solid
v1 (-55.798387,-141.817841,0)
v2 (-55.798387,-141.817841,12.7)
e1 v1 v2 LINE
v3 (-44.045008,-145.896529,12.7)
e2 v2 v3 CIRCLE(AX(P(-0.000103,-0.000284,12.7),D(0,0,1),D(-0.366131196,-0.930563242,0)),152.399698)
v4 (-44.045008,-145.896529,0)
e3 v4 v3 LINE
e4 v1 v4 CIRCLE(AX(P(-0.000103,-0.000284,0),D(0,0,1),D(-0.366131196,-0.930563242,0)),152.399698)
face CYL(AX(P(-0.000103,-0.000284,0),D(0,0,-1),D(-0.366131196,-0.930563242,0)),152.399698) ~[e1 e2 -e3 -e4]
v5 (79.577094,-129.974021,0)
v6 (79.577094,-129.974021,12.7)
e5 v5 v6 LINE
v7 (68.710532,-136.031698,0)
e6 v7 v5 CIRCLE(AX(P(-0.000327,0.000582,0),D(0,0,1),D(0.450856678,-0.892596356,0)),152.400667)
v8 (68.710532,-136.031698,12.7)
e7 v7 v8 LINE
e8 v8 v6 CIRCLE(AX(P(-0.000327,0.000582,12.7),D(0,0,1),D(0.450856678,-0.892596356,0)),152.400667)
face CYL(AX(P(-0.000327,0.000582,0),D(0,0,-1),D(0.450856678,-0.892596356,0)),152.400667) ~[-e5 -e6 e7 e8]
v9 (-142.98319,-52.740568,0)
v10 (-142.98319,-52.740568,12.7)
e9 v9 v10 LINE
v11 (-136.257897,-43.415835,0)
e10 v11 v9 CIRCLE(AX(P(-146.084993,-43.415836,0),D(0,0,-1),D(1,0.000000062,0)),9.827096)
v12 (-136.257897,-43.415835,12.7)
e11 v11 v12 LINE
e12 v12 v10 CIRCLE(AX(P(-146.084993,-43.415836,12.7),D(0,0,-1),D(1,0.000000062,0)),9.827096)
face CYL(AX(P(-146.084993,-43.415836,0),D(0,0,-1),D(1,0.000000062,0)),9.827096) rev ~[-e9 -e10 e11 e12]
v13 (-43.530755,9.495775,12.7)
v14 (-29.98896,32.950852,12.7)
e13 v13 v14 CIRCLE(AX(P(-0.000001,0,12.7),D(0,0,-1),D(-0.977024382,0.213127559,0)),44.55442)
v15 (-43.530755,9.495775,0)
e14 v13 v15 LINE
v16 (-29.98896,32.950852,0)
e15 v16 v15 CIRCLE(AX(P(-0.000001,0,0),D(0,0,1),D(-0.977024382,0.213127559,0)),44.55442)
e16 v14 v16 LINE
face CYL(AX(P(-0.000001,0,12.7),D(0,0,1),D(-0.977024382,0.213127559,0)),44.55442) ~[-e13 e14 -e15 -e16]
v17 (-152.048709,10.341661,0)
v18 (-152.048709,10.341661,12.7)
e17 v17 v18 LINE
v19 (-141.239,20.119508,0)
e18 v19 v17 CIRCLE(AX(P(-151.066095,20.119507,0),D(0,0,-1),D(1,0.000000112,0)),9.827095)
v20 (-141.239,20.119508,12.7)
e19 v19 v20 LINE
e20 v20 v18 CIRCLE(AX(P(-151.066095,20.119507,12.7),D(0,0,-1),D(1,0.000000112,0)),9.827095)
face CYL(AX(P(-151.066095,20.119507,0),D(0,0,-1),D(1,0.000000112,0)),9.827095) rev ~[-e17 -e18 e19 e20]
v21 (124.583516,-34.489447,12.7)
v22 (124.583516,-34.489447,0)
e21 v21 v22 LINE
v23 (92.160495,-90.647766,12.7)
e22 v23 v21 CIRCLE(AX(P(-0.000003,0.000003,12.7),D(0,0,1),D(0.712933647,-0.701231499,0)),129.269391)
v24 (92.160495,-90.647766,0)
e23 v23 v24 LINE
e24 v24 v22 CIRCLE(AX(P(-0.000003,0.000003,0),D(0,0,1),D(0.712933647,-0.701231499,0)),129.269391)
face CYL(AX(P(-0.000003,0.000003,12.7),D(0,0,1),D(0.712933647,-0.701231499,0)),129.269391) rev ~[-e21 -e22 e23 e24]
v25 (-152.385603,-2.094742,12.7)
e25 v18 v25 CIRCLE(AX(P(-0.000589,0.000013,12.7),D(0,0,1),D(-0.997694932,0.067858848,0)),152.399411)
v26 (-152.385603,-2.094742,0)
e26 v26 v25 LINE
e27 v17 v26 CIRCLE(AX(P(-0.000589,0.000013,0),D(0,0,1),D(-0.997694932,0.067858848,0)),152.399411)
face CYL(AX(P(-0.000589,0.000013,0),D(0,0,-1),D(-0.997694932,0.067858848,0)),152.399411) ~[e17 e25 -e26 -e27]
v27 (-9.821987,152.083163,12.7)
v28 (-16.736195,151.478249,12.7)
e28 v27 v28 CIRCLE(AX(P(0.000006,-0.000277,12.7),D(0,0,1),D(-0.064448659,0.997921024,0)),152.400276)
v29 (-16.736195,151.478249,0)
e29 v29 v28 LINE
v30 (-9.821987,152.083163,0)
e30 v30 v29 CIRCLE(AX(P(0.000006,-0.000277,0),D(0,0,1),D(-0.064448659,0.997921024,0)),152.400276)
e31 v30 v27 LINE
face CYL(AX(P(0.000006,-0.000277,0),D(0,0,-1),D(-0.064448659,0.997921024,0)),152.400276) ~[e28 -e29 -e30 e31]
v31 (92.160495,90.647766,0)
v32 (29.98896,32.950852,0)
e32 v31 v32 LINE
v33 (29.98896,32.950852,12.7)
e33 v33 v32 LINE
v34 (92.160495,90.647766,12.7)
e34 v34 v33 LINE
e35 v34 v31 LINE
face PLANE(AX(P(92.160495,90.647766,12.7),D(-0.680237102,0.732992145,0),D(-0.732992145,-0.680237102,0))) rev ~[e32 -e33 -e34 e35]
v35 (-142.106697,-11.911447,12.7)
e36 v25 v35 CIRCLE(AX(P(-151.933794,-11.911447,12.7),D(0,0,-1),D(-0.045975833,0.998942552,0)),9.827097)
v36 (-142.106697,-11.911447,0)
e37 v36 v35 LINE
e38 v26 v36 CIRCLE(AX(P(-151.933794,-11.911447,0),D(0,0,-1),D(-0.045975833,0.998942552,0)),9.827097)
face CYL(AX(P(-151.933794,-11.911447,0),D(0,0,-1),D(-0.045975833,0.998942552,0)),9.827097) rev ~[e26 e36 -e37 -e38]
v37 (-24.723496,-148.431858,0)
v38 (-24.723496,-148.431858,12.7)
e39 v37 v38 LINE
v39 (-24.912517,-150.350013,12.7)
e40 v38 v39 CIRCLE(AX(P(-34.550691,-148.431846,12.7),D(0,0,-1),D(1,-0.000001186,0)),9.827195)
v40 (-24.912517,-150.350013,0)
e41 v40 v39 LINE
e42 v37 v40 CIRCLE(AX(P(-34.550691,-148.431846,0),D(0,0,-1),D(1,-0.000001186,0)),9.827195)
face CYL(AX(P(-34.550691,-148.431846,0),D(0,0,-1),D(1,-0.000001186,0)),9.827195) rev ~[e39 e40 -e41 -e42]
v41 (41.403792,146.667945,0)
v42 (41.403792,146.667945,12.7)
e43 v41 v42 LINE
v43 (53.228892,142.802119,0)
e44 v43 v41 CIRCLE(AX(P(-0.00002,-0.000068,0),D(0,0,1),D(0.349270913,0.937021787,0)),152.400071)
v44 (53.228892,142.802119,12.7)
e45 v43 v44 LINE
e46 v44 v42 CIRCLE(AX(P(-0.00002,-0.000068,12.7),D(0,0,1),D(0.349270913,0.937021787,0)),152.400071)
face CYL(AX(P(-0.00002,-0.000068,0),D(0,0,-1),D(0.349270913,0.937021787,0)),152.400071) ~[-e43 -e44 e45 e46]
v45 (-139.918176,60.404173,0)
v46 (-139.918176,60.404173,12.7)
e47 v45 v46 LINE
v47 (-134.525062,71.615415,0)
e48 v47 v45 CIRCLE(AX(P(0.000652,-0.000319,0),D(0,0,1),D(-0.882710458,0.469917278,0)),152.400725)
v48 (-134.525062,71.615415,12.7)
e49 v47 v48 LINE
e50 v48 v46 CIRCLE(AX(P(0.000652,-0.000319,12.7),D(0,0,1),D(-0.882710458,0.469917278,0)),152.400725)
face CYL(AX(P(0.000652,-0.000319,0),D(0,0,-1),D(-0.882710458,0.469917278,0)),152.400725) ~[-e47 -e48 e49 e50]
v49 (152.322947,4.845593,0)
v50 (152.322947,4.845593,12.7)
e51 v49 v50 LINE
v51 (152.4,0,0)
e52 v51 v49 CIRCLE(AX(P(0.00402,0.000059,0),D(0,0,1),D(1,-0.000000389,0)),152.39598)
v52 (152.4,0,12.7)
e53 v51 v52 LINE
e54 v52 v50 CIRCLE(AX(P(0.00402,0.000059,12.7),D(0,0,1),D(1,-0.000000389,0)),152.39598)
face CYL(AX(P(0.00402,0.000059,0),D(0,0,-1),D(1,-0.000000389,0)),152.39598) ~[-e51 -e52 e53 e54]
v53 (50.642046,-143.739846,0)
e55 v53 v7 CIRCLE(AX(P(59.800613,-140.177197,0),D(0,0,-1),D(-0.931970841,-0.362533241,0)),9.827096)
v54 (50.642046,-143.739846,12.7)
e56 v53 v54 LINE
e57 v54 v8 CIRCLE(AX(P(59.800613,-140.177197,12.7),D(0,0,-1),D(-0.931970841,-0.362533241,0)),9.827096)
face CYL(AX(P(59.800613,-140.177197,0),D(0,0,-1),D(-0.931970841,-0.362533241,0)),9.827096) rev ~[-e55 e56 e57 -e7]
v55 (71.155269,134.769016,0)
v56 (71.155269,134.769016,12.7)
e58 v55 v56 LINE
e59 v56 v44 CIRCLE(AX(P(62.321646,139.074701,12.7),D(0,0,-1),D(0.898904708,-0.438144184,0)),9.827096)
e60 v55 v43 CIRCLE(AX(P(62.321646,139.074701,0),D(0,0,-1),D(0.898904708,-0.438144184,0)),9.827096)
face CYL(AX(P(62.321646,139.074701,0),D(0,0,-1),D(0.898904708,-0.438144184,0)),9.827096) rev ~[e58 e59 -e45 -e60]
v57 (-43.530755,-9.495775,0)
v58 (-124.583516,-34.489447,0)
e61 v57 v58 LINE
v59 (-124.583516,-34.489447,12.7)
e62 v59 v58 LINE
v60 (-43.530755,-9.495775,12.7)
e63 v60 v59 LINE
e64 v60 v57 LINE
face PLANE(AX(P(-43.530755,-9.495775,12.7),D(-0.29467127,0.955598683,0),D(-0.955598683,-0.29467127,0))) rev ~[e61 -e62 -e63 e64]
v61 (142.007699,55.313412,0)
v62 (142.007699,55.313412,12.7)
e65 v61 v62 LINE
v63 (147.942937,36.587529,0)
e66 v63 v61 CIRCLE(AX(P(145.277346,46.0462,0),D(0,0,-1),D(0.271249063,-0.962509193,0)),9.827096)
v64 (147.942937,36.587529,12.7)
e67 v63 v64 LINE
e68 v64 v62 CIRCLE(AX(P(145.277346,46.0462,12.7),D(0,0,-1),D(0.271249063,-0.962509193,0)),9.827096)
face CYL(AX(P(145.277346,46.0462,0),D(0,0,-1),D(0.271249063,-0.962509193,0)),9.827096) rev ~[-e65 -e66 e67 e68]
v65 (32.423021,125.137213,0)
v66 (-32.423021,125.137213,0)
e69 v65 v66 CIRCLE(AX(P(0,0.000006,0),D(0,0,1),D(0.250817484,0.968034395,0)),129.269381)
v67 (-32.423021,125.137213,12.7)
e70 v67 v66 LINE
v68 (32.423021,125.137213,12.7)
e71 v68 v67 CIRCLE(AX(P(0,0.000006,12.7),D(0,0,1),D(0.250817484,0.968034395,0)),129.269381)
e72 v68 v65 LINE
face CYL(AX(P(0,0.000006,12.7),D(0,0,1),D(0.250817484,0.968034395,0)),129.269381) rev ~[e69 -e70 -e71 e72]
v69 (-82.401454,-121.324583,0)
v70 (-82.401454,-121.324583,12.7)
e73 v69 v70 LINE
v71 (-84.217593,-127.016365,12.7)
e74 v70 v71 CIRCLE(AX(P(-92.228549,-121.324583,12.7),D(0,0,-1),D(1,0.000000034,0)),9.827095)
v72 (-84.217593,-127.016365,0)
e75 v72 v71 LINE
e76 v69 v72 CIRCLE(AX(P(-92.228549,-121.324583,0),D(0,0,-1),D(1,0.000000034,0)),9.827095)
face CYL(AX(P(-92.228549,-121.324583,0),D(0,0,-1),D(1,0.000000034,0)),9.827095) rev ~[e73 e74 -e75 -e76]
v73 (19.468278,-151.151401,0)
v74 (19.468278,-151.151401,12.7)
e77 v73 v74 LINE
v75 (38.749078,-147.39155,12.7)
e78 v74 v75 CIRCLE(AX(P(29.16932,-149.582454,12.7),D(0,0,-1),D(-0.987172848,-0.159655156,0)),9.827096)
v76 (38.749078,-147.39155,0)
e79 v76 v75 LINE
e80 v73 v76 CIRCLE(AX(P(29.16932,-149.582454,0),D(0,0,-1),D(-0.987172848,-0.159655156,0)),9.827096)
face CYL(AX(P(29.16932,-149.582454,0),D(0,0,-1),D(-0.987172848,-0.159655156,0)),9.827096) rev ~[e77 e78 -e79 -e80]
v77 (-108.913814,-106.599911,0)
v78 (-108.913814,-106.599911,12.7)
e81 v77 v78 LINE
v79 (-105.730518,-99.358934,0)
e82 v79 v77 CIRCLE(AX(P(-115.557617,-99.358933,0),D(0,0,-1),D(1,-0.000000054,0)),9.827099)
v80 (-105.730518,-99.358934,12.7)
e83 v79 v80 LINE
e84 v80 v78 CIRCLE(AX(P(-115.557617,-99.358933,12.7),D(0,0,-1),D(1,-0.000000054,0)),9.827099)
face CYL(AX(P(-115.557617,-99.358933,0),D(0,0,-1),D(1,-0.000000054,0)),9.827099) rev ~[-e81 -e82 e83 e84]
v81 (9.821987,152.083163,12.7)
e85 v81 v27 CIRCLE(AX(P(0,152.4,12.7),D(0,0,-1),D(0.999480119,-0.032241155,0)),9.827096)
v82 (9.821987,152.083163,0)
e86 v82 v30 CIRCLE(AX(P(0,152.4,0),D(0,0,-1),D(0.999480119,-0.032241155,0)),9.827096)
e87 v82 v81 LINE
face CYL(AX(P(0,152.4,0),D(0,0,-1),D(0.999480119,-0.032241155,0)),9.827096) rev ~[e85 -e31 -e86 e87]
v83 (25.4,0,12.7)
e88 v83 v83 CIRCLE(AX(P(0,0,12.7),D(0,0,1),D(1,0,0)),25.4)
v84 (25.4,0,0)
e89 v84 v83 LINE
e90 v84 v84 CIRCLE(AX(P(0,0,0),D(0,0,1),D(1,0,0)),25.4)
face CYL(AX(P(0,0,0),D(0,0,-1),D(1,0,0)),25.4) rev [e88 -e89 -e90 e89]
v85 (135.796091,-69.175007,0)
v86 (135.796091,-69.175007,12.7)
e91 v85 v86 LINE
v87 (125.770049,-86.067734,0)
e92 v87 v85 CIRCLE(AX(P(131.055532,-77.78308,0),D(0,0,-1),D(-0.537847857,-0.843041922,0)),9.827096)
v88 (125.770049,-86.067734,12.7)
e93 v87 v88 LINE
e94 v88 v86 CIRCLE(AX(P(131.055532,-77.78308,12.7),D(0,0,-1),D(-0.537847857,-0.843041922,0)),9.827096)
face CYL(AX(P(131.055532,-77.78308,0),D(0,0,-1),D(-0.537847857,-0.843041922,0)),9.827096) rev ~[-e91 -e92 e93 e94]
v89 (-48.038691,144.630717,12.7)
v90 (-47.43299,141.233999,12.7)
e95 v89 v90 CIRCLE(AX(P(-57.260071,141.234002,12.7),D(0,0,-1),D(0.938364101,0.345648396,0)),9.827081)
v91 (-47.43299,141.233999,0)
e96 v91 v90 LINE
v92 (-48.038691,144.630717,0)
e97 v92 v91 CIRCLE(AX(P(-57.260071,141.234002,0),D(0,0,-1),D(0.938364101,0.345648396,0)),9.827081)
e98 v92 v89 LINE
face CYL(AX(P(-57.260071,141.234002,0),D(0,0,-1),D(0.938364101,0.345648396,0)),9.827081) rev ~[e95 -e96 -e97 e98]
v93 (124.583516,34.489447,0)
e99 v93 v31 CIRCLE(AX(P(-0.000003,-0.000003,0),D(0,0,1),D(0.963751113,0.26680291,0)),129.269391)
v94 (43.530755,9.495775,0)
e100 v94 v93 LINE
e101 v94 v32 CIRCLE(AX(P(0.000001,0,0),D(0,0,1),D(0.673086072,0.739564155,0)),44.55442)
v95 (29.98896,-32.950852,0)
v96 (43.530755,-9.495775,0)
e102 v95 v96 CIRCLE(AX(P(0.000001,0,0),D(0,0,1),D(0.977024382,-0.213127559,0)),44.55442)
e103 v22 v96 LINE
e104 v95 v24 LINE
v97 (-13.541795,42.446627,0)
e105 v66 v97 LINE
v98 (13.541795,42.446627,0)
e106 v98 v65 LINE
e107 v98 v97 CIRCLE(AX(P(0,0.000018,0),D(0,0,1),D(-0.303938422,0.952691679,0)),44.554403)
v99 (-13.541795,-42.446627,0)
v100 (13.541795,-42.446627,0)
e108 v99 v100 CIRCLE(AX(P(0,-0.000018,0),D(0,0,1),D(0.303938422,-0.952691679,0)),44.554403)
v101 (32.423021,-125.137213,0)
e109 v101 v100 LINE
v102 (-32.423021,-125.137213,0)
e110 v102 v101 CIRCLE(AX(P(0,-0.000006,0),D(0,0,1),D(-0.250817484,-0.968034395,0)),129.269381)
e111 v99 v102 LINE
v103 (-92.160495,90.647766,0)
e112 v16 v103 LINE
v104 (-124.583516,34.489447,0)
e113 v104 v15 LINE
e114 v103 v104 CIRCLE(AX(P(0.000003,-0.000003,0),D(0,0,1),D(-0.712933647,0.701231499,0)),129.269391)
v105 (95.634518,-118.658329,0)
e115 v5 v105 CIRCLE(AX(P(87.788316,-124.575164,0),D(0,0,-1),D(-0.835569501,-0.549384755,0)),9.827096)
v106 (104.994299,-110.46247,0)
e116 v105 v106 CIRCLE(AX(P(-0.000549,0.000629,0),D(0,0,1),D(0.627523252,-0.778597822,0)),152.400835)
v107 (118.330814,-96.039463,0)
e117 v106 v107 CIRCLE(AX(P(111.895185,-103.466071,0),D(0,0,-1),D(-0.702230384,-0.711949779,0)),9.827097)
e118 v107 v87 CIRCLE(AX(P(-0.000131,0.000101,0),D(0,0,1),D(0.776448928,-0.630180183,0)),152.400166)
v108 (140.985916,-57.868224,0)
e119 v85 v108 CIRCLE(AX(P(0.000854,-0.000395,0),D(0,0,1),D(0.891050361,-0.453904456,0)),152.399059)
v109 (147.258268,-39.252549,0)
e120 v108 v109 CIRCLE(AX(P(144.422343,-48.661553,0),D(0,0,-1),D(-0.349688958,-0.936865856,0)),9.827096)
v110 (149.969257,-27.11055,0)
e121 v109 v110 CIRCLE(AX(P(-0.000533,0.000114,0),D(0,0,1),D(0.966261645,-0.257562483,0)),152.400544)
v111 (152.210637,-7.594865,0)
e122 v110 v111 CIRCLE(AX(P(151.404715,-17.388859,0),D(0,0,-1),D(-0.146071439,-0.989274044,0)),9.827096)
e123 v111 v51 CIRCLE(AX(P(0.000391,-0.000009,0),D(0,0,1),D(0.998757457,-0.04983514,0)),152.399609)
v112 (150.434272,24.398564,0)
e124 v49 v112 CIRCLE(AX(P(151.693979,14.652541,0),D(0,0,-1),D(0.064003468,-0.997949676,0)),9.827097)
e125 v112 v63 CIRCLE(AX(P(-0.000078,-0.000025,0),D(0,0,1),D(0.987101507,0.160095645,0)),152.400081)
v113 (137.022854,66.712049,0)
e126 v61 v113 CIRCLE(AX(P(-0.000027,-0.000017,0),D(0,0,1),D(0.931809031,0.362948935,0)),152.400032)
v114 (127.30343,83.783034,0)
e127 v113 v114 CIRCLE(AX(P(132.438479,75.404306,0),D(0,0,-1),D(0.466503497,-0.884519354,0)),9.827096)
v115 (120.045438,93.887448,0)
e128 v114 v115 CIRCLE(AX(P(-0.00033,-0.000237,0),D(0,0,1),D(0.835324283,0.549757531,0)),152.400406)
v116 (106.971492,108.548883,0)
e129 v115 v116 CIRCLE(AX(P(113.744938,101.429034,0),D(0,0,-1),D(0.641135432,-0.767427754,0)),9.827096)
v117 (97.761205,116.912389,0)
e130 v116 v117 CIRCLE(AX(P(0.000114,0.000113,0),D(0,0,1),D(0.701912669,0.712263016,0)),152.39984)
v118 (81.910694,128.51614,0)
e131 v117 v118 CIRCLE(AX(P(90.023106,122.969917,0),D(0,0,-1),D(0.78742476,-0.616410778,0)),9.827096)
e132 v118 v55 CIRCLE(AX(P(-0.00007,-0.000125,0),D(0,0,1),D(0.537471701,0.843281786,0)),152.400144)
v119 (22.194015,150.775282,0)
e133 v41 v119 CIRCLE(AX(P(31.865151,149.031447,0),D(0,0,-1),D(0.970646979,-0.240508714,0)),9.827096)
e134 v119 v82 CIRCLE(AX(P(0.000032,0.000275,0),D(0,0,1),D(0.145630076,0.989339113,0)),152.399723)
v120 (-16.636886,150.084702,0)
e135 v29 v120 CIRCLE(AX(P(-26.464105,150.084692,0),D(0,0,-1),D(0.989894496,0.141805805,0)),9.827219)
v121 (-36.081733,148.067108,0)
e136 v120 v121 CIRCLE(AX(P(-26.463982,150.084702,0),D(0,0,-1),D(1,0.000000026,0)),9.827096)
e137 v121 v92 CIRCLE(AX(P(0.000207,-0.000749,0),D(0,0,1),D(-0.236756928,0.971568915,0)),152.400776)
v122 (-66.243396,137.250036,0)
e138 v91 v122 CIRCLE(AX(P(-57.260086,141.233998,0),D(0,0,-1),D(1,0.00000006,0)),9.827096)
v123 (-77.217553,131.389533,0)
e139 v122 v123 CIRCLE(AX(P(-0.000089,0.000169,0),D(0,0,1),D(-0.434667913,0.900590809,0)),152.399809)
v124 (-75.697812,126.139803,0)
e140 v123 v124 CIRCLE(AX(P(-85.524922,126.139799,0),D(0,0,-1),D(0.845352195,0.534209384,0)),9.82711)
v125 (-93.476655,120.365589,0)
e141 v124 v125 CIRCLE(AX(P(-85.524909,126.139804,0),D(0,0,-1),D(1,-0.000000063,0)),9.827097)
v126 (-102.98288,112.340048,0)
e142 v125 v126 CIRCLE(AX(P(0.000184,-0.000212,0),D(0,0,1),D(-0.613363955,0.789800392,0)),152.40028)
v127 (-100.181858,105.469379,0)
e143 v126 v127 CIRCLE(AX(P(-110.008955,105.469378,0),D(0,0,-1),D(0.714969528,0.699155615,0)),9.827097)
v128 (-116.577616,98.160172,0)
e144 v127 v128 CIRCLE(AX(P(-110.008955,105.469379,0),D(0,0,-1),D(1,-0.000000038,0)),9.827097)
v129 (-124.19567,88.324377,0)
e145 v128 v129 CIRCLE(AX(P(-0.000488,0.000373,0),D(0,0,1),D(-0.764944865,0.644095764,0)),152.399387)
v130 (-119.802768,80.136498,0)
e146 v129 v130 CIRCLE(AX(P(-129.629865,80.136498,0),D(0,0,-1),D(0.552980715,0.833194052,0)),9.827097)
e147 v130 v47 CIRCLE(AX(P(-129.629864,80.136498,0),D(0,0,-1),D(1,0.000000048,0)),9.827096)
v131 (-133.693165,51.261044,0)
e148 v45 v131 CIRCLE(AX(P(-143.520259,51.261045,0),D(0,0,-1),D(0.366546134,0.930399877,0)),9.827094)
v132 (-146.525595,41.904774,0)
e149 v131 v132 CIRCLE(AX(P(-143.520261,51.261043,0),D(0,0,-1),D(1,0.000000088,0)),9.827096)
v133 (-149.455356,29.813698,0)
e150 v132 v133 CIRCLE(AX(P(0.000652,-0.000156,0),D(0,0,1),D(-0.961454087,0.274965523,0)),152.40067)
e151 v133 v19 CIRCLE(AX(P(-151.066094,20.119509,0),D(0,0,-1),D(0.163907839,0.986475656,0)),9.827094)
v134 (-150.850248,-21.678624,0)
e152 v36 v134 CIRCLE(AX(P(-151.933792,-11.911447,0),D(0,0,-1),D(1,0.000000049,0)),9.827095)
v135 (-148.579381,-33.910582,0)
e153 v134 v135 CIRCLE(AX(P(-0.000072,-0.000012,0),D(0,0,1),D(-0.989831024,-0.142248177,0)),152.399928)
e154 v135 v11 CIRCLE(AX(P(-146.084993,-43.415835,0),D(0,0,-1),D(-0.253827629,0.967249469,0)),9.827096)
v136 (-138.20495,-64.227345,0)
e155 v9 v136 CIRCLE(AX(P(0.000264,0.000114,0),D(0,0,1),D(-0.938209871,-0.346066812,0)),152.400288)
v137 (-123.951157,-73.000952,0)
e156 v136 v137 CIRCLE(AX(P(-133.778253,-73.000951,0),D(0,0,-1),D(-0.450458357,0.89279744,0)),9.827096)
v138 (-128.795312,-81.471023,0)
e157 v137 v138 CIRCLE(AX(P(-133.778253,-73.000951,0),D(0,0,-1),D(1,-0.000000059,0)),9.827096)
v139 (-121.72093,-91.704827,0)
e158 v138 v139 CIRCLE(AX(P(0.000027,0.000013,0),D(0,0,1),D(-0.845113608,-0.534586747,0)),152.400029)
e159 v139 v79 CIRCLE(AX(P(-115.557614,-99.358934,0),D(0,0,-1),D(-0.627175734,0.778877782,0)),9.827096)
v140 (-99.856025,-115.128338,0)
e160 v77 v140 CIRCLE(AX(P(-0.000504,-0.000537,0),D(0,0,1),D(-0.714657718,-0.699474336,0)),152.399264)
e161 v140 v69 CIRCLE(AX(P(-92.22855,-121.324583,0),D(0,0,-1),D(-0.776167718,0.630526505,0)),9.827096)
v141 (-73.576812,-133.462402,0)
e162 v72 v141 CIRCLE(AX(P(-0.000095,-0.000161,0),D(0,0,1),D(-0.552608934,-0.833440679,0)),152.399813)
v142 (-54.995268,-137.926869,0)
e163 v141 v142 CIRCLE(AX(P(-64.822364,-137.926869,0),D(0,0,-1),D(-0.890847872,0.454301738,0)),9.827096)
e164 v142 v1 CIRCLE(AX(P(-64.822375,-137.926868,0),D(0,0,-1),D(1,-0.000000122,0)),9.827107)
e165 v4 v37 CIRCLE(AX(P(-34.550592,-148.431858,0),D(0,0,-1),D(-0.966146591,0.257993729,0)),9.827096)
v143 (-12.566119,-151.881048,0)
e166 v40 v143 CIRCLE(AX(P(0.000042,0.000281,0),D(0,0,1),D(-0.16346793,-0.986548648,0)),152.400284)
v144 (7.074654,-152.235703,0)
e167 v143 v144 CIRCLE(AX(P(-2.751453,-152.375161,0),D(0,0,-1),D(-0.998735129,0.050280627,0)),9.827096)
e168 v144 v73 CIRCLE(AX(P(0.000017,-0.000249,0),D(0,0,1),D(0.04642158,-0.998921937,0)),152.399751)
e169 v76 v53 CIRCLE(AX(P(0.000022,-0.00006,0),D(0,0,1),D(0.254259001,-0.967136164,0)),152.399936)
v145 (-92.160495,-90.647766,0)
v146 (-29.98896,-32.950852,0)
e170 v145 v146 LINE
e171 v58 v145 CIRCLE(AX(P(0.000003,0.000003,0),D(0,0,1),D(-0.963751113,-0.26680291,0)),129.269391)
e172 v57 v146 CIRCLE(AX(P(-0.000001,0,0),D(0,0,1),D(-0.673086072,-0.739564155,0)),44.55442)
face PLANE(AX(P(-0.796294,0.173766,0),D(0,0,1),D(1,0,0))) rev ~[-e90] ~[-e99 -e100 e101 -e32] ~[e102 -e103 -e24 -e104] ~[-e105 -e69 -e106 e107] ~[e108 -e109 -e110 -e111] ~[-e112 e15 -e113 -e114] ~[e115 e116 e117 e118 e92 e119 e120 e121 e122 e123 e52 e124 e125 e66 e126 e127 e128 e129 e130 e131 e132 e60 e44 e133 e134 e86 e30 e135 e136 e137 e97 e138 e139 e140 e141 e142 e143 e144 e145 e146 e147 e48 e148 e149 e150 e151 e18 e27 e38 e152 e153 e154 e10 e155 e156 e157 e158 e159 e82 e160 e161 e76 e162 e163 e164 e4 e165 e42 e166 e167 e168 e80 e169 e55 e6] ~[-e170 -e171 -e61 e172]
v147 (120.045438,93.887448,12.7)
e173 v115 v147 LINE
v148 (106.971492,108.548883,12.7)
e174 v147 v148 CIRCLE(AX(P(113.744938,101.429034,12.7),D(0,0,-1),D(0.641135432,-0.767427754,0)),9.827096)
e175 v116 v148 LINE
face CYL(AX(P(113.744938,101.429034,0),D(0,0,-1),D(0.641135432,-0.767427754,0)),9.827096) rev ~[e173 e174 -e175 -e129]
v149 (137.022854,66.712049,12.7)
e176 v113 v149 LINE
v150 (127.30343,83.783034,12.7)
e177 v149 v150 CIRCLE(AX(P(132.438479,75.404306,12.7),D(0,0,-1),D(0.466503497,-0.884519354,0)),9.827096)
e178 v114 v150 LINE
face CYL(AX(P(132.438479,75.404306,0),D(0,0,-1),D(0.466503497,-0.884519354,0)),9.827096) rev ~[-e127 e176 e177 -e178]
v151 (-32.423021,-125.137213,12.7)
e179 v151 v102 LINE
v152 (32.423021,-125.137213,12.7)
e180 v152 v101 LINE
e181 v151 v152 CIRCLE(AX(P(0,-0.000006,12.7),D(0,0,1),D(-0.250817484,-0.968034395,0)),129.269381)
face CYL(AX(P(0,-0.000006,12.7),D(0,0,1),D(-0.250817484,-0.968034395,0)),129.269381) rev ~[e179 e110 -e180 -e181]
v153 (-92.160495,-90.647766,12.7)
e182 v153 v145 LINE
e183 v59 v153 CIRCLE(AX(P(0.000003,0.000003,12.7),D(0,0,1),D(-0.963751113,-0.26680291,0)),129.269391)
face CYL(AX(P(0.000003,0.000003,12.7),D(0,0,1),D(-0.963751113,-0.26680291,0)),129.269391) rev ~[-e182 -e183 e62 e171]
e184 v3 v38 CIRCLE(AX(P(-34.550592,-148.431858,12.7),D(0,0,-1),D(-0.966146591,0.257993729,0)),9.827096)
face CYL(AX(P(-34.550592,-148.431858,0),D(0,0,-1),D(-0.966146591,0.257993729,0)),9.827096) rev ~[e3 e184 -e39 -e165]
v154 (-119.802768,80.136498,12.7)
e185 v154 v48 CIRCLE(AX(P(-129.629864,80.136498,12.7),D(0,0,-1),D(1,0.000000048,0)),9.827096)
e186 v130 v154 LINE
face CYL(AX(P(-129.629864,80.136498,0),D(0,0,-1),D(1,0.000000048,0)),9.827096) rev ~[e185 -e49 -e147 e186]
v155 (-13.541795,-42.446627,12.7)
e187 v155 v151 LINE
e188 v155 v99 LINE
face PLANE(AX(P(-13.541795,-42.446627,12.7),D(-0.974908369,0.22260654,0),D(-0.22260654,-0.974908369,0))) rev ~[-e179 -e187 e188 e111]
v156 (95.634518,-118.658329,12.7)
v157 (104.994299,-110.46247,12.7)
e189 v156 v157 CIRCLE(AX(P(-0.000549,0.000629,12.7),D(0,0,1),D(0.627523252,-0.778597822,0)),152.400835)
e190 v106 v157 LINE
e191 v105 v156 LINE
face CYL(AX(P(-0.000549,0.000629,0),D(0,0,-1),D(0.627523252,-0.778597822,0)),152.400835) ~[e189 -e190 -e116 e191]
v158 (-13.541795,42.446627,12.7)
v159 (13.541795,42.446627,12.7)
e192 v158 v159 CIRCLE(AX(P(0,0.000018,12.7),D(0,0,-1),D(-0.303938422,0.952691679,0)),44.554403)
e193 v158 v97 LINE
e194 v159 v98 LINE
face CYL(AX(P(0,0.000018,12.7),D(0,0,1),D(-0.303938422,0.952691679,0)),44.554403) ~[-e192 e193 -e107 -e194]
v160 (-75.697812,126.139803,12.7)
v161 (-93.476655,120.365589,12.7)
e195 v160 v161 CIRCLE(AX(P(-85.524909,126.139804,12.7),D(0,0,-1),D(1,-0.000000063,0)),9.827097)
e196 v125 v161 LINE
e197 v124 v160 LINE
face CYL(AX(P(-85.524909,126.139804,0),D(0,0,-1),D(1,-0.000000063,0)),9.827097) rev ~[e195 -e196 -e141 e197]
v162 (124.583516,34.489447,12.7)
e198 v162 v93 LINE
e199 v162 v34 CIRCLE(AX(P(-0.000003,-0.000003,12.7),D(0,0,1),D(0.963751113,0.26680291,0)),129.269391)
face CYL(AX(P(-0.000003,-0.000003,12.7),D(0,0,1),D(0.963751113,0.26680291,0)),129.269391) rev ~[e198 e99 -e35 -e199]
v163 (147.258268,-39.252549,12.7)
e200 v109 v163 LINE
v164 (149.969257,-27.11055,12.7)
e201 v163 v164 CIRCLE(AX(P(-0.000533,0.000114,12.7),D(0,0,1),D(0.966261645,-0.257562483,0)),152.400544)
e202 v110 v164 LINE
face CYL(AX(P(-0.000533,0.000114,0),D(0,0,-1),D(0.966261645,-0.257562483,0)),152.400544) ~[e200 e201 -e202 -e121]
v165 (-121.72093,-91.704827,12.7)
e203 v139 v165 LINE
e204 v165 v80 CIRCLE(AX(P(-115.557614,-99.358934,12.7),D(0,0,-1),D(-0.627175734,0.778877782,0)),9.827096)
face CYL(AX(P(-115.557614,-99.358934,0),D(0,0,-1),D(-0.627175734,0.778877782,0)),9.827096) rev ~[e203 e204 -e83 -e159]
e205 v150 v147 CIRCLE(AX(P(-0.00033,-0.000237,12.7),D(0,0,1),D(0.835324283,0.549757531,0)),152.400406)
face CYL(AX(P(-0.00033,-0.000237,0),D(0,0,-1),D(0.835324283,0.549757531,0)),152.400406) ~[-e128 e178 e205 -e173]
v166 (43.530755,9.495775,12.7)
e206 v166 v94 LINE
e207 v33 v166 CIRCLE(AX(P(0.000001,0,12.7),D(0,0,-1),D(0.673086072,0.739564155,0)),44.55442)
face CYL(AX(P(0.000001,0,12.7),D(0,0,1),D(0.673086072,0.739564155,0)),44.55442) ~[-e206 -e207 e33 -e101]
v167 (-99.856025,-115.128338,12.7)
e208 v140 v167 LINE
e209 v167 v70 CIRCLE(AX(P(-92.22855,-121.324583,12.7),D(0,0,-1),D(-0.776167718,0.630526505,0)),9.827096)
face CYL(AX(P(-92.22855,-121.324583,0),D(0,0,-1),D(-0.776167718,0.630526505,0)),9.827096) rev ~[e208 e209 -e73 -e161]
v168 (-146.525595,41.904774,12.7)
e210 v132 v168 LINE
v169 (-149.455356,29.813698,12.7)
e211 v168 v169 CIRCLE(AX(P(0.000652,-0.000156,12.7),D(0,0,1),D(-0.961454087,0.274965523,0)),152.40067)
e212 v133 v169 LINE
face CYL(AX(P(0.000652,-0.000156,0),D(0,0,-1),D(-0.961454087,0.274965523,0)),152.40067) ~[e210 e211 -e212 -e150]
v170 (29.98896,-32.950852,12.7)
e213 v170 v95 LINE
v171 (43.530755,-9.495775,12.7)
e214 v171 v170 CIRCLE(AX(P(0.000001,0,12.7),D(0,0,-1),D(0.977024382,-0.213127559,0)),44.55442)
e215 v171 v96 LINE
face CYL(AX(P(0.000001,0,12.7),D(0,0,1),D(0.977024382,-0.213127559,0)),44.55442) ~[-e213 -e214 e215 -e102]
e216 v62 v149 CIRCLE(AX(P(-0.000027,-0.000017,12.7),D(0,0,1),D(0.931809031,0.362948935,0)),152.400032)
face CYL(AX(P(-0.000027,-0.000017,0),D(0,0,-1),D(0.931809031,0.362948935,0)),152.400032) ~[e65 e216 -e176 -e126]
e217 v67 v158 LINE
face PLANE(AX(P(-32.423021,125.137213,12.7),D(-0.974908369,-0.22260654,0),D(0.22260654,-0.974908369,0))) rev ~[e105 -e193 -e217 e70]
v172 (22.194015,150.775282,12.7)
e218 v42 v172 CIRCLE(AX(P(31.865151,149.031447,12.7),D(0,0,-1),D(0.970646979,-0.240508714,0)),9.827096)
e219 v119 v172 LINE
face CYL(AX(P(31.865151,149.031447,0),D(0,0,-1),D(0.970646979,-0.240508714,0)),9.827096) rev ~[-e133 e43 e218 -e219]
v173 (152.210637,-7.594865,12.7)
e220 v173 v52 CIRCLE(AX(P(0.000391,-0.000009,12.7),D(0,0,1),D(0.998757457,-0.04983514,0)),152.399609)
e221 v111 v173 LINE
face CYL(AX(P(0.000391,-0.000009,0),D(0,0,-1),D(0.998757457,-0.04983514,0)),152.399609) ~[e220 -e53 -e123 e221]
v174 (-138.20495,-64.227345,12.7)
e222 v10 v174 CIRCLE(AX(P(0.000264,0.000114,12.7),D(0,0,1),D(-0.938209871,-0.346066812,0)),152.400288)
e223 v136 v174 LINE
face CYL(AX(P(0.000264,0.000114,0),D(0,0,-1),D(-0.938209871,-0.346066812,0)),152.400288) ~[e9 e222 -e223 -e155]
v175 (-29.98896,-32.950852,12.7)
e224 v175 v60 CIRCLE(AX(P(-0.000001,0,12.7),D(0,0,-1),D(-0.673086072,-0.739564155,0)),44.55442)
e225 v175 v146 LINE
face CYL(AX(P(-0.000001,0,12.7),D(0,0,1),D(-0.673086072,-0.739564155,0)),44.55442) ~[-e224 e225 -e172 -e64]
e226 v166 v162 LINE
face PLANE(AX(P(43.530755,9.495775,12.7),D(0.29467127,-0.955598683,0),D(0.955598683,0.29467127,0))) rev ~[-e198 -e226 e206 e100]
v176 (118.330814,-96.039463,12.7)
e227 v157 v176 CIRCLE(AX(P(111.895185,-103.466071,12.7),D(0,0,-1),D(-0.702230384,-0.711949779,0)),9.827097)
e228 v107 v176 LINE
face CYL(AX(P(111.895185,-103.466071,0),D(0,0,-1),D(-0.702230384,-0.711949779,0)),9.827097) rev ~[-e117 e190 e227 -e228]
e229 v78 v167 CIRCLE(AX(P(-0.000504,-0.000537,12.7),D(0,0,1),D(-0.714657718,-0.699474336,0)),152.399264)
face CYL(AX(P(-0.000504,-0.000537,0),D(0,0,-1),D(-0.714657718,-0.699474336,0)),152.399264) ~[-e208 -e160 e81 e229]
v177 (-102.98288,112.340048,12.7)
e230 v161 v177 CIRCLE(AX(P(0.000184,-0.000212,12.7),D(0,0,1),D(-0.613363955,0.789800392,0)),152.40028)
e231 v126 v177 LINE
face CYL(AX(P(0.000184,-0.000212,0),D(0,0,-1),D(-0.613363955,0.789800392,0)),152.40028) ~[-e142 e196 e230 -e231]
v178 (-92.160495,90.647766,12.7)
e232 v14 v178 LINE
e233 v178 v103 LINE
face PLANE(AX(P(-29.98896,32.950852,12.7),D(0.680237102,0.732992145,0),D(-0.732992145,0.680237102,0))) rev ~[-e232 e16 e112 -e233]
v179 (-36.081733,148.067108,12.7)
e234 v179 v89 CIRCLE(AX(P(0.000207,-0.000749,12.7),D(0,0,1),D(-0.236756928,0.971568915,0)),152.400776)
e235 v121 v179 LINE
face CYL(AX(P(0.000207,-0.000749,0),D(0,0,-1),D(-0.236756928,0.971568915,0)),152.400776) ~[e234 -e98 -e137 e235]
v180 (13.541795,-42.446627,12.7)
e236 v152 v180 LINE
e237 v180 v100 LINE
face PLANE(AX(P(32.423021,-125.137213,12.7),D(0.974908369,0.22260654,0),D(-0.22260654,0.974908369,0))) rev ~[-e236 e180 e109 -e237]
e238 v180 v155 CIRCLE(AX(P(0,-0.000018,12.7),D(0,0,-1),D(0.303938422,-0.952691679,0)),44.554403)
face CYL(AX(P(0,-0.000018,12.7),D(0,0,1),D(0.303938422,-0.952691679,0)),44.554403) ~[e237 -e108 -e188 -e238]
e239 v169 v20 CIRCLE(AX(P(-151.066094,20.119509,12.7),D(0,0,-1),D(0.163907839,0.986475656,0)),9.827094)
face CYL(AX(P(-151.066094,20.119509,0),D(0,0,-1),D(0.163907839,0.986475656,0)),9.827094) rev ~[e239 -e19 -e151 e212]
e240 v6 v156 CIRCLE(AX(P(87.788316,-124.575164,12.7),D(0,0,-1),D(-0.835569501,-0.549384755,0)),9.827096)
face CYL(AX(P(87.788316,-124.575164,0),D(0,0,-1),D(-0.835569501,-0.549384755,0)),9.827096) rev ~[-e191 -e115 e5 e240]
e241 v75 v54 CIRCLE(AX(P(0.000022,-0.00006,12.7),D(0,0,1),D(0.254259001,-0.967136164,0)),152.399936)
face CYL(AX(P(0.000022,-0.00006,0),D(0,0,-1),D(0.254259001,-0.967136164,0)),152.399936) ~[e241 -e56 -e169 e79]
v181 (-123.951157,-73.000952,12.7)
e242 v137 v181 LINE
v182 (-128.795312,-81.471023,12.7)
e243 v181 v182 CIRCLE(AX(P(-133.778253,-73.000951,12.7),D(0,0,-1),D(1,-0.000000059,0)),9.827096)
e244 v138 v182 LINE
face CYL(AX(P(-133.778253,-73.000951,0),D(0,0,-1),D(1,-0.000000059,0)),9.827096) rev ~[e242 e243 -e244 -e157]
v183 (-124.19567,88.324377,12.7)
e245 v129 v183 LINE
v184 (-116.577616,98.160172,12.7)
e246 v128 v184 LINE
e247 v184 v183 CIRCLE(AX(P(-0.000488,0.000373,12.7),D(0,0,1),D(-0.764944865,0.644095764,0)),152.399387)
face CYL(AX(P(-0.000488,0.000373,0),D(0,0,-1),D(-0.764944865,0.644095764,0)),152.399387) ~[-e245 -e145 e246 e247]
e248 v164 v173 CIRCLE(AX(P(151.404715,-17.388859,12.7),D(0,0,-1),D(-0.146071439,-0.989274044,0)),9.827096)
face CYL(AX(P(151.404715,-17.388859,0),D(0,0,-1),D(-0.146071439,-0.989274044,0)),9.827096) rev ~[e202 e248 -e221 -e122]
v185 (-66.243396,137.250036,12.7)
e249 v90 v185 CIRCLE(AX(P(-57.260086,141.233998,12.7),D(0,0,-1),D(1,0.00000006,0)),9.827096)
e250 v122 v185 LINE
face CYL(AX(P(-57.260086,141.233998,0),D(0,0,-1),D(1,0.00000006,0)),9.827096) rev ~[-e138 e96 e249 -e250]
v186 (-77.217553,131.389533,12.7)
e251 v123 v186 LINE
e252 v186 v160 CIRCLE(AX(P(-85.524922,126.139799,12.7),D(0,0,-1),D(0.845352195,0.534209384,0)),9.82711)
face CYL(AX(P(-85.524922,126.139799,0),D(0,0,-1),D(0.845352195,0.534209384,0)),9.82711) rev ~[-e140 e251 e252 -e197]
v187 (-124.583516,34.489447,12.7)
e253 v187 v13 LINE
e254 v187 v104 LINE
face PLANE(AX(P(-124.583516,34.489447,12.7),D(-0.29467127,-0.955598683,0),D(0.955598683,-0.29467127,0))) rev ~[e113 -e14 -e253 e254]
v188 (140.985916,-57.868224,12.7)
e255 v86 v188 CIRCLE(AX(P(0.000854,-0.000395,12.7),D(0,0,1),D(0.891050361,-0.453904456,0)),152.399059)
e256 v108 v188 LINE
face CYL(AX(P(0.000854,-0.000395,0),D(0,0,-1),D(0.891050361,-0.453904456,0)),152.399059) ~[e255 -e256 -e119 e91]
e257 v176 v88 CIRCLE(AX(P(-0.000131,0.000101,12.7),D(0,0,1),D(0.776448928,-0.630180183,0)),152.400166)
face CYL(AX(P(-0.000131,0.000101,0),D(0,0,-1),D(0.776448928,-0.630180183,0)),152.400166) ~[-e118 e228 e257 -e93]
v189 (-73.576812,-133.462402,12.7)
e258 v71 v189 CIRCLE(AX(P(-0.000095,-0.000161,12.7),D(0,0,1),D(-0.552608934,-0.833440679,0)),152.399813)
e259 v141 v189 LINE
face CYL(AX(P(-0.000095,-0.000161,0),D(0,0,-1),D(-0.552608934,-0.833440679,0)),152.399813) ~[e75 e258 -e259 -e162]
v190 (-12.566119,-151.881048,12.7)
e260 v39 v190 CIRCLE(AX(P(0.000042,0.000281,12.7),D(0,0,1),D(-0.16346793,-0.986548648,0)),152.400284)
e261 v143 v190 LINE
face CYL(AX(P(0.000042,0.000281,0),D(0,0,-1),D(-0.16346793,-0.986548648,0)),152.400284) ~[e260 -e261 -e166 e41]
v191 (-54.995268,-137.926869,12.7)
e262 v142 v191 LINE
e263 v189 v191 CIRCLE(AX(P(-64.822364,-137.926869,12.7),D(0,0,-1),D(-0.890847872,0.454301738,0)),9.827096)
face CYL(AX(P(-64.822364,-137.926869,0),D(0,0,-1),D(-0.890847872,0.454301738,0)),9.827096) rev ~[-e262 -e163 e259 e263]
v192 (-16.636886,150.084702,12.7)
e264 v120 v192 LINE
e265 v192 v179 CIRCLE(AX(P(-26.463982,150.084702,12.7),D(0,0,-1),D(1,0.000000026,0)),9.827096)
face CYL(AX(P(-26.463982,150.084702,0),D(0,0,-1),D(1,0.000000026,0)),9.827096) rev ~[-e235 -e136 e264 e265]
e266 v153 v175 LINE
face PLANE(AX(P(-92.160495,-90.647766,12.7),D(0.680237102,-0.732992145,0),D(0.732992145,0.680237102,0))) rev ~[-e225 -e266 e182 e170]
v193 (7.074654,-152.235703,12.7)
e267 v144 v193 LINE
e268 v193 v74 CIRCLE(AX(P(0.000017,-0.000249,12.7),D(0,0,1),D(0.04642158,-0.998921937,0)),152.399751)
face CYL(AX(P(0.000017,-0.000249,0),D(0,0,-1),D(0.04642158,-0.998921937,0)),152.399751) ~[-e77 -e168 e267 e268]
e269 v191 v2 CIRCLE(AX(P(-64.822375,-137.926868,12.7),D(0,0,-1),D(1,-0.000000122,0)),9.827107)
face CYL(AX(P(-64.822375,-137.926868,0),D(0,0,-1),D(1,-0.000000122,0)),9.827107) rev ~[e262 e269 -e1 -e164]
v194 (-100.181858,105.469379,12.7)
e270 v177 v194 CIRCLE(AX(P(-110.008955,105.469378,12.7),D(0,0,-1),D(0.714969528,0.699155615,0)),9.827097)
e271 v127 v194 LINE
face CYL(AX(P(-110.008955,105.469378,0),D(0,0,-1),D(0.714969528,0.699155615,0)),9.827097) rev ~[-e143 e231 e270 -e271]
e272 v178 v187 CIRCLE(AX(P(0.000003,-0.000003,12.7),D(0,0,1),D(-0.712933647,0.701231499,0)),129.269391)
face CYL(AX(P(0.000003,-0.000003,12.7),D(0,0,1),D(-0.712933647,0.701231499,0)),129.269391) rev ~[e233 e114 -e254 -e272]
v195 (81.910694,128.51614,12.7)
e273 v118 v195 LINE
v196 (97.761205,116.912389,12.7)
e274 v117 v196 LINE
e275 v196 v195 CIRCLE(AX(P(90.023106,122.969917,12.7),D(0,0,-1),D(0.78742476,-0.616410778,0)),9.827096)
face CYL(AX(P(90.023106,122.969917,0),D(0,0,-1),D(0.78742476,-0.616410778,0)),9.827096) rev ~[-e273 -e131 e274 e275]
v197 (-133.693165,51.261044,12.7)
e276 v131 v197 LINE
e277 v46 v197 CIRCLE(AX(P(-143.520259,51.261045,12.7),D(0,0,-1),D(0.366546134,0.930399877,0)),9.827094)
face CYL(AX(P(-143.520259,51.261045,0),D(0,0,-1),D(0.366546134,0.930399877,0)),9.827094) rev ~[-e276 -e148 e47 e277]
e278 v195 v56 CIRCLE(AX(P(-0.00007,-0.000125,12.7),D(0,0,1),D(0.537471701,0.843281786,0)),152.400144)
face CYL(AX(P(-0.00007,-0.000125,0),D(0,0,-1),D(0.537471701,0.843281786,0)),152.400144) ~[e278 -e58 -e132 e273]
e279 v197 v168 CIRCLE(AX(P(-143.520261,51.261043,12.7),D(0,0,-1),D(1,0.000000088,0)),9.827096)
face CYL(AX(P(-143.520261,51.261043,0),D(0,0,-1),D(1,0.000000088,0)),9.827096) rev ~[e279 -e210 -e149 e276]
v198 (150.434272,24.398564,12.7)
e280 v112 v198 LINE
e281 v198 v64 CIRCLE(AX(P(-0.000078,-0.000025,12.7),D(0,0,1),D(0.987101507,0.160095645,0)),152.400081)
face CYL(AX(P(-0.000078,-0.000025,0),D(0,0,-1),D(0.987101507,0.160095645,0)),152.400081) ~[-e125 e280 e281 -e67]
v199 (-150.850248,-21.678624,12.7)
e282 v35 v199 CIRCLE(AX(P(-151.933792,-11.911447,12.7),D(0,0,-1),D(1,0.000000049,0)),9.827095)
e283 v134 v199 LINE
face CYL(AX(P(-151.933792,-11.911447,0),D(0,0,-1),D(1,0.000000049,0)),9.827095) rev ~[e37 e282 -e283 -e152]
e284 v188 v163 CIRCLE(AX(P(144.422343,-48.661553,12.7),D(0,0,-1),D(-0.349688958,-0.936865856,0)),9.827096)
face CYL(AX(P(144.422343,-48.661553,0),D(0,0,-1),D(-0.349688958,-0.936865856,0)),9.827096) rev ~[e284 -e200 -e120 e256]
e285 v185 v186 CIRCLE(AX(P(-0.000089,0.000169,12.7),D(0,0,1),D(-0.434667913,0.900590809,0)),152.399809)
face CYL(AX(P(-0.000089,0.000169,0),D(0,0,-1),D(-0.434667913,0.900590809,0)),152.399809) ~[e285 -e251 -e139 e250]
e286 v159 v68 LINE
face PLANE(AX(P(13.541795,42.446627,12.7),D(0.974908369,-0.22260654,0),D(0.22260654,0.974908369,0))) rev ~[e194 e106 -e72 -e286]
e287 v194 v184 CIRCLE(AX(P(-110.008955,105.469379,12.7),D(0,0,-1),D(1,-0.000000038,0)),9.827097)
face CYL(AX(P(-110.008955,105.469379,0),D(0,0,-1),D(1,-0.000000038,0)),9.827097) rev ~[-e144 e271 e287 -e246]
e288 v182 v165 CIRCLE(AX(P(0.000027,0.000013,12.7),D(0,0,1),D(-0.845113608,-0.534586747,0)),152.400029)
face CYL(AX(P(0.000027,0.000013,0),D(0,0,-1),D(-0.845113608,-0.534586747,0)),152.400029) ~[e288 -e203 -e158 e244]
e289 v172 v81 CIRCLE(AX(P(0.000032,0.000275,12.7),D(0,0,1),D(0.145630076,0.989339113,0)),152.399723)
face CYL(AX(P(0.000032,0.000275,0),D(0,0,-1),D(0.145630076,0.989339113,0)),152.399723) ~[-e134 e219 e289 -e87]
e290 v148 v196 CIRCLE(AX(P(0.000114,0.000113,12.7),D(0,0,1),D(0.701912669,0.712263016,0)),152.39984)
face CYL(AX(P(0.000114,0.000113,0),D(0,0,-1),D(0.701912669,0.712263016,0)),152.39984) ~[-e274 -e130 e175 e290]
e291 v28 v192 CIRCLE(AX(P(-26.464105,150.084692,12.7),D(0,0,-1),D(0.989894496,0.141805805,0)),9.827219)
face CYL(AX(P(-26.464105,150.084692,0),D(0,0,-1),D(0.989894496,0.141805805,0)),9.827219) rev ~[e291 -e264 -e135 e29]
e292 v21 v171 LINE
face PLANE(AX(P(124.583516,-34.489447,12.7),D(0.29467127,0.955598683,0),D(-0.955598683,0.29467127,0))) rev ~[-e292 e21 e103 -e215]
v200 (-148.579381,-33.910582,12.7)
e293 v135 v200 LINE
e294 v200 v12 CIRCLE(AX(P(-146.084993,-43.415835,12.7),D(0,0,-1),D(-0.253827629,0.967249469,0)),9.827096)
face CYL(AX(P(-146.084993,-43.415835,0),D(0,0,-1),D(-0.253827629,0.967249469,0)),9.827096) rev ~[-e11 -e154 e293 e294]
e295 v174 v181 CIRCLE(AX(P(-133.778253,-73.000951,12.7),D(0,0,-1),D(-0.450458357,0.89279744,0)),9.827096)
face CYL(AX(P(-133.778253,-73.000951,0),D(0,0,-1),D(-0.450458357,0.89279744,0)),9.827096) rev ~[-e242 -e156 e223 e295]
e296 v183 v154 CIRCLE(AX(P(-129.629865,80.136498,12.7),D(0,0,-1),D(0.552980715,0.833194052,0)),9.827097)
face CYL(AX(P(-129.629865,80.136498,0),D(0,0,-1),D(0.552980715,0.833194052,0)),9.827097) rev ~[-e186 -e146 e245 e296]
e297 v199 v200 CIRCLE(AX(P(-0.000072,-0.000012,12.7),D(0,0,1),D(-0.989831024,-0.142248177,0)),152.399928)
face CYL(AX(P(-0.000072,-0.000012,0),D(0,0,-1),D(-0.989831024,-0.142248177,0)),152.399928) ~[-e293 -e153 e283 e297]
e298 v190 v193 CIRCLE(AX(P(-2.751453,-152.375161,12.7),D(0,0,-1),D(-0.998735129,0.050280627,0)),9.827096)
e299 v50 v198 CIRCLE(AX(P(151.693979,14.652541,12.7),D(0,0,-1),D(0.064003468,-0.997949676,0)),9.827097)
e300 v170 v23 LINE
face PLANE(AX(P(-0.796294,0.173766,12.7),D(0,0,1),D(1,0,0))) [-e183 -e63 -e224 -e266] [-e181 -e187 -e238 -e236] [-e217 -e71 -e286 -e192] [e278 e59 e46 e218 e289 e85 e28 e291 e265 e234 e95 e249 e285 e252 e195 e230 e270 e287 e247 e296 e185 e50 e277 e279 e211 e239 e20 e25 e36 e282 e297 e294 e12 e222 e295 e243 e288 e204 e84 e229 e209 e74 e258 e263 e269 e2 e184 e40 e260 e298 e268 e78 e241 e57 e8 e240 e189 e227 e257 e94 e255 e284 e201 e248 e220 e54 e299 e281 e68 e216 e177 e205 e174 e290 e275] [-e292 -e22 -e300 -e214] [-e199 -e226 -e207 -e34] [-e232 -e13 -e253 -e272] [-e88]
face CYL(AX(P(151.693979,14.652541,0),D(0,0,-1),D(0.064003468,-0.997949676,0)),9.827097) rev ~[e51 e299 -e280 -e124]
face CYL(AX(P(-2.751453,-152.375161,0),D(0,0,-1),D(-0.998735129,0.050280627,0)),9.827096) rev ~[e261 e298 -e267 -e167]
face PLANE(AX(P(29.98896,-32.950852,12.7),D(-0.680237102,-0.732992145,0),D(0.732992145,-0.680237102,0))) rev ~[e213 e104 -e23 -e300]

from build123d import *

# Parameters (mm, degrees)
F0_R     = 25.4
F1_DEPTH = 12.7
F3_DEPTH = 25.4


with BuildPart() as f1:
    # F0 (on Top) → F1 (new body)
    with BuildSketch(Plane.XY):
        with BuildLine():
            ThreePointArc((152.210637, -7.594865), (152.352652, -3.798613), (152.4, 0))
            ThreePointArc((152.4, 0), (152.380736, 2.423103), (152.322947, 4.845593))
            ThreePointArc((152.322947, 4.845593), (141.912408, 13.707712), (150.434272, 24.398564))
            ThreePointArc((150.434272, 24.398564), (149.313035, 30.518479), (147.942937, 36.587529))
            ThreePointArc((147.942937, 36.587529), (135.909535, 43.077036), (142.007699, 55.313412))
            ThreePointArc((142.007699, 55.313412), (139.631639, 61.063618), (137.022854, 66.712049))
            ThreePointArc((137.022854, 66.712049), (123.898547, 70.542066), (127.30343, 83.783034))
            ThreePointArc((127.30343, 83.783034), (123.777584, 88.909334), (120.045438, 93.887448))
            ThreePointArc((120.045438, 93.887448), (106.410408, 94.888661), (106.971492, 108.548883))
            ThreePointArc((106.971492, 108.548883), (102.451727, 112.824659), (97.761205, 116.912389))
            ThreePointArc((97.761205, 116.912389), (84.218213, 115.040539), (81.910694, 128.51614))
            ThreePointArc((81.910694, 128.51614), (76.596814, 131.752374), (71.155269, 134.769016))
            ThreePointArc((71.155269, 134.769016), (58.303006, 130.10685), (53.228892, 142.802119))
            ThreePointArc((53.228892, 142.802119), (47.355806, 144.855748), (41.403792, 146.667945))
            ThreePointArc((41.403792, 146.667945), (29.810413, 139.421563), (22.194015, 150.775282))
            ThreePointArc((22.194015, 150.775282), (16.021353, 151.555522), (9.821987, 152.083163))
            ThreePointArc((9.821987, 152.083163), (0, 142.572904), (-9.821987, 152.083163))
            ThreePointArc((-9.821987, 152.083163), (-13.282535, 151.820072), (-16.736195, 151.478249))
            ThreePointArc((-16.736195, 151.478249), (-16.661745, 150.783242), (-16.636886, 150.084702))
            ThreePointArc((-16.636886, 150.084702), (-25.44977, 140.310082), (-36.081733, 148.067108))
            ThreePointArc((-36.081733, 148.067108), (-42.095292, 146.470974), (-48.038691, 144.630717))
            ThreePointArc((-48.038691, 144.630717), (-47.5856, 142.959149), (-47.43299, 141.233999))
            ThreePointArc((-47.43299, 141.233999), (-55.223917, 131.620163), (-66.243396, 137.250036))
            ThreePointArc((-66.243396, 137.250036), (-71.790301, 134.431814), (-77.217553, 131.389533))
            ThreePointArc((-77.217553, 131.389533), (-76.085391, 128.872443), (-75.697812, 126.139803))
            ThreePointArc((-75.697812, 126.139803), (-82.489349, 116.793296), (-93.476655, 120.365589))
            ThreePointArc((-93.476655, 120.365589), (-98.311696, 116.449862), (-102.98288, 112.340048))
            ThreePointArc((-102.98288, 112.340048), (-100.909017, 109.179225), (-100.181858, 105.469379))
            ThreePointArc((-100.181858, 105.469379), (-106.007645, 96.493782), (-116.577616, 98.160172))
            ThreePointArc((-116.577616, 98.160172), (-120.487052, 93.320043), (-124.19567, 88.324377))
            ThreePointArc((-124.19567, 88.324377), (-120.970356, 84.782436), (-119.802768, 80.136498))
            ThreePointArc((-119.802768, 80.136498), (-124.707149, 71.631282), (-134.525062, 71.615415))
            ThreePointArc((-134.525062, 71.615415), (-137.336068, 66.064849), (-139.918176, 60.404173))
            ThreePointArc((-139.918176, 60.404173), (-135.39715, 56.791586), (-133.693165, 51.261044))
            ThreePointArc((-133.693165, 51.261044), (-137.730696, 43.320467), (-146.525595, 41.904774))
            ThreePointArc((-146.525595, 41.904774), (-148.113906, 35.889145), (-149.455356, 29.813698))
            ThreePointArc((-149.455356, 29.813698), (-143.569406, 26.473362), (-141.239, 20.119508))
            ThreePointArc((-141.239, 20.119508), (-144.473844, 12.83157), (-152.048709, 10.341661))
            ThreePointArc((-152.048709, 10.341661), (-152.344113, 4.126898), (-152.385603, -2.094742))
            ThreePointArc((-152.385603, -2.094742), (-145.146605, -4.804697), (-142.106697, -11.911447))
            ThreePointArc((-142.106697, -11.911447), (-144.611911, -18.465977), (-150.850248, -21.678624))
            ThreePointArc((-150.850248, -21.678624), (-149.839684, -27.817785), (-148.579381, -33.910582))
            ThreePointArc((-148.579381, -33.910582), (-140.082526, -35.634948), (-136.257897, -43.415835))
            ThreePointArc((-136.257897, -43.415835), (-138.114625, -49.164318), (-142.98319, -52.740568))
            ThreePointArc((-142.98319, -52.740568), (-140.711332, -58.532735), (-138.20495, -64.227345))
            ThreePointArc((-138.20495, -64.227345), (-128.627028, -64.632158), (-123.951157, -73.000952))
            ThreePointArc((-123.951157, -73.000952), (-125.24773, -77.87968), (-128.795312, -81.471023))
            ThreePointArc((-128.795312, -81.471023), (-125.362592, -86.660144), (-121.72093, -91.704827))
            ThreePointArc((-121.72093, -91.704827), (-111.314719, -90.494981), (-105.730518, -99.358934))
            ThreePointArc((-105.730518, -99.358934), (-106.561474, -103.31384), (-108.913814, -106.599911))
            ThreePointArc((-108.913814, -106.599911), (-104.471982, -110.956591), (-99.856025, -115.128338))
            ThreePointArc((-99.856025, -115.128338), (-88.941006, -112.063704), (-82.401454, -121.324583))
            ThreePointArc((-82.401454, -121.324583), (-82.866492, -124.311837), (-84.217593, -127.016365))
            ThreePointArc((-84.217593, -127.016365), (-78.963006, -130.34801), (-73.576812, -133.462402))
            ThreePointArc((-73.576812, -133.462402), (-62.526605, -128.371697), (-54.995268, -137.926869))
            ThreePointArc((-54.995268, -137.926869), (-55.198142, -139.913365), (-55.798387, -141.817841))
            ThreePointArc((-55.798387, -141.817841), (-49.963335, -143.977169), (-44.045008, -145.896529))
            ThreePointArc((-44.045008, -145.896529), (-33.272061, -138.688287), (-24.723496, -148.431858))
            ThreePointArc((-24.723496, -148.431858), (-24.770866, -149.395581), (-24.912517, -150.350013))
            ThreePointArc((-24.912517, -150.350013), (-18.754947, -151.241568), (-12.566119, -151.881048))
            ThreePointArc((-12.566119, -151.881048), (-2.574032, -142.549666), (7.074654, -152.235703))
            ThreePointArc((7.074654, -152.235703), (13.282535, -151.820072), (19.468278, -151.151401))
            ThreePointArc((19.468278, -151.151401), (27.288417, -139.93704), (38.749078, -147.39155))
            ThreePointArc((38.749078, -147.39155), (44.73284, -145.687107), (50.642046, -143.739846))
            ThreePointArc((50.642046, -143.739846), (55.944534, -131.138255), (68.710532, -136.031698))
            ThreePointArc((68.710532, -136.031698), (74.205652, -133.11379), (79.577094, -129.974021))
            ThreePointArc((79.577094, -129.974021), (82.127527, -116.542276), (95.634518, -118.658329))
            ThreePointArc((95.634518, -118.658329), (100.398075, -114.655948), (104.994299, -110.46247))
            ThreePointArc((104.994299, -110.46247), (104.67993, -96.794345), (118.330814, -96.039463))
            ThreePointArc((118.330814, -96.039463), (122.152227, -91.129542), (125.770049, -86.067734))
            ThreePointArc((125.770049, -86.067734), (122.604775, -72.767451), (135.796091, -69.175007))
            ThreePointArc((135.796091, -69.175007), (138.506429, -63.574596), (140.985916, -57.868224))
            ThreePointArc((140.985916, -57.868224), (135.109664, -45.523746), (147.258268, -39.252549))
            ThreePointArc((147.258268, -39.252549), (148.737713, -33.209225), (149.969257, -27.11055))
            ThreePointArc((149.969257, -27.11055), (141.641797, -16.267586), (152.210637, -7.594865))
        make_face()
        Circle(F0_R, mode=Mode.SUBTRACT)
    extrude(amount=F1_DEPTH)

    # F2 (on face) → F3 (cut)
    with BuildSketch(Plane.XY.offset(12.7)):
        with BuildLine():
            ThreePointArc((-43.530755, 9.495775), (-38.58526, 22.27721), (-29.98896, 32.950852))
            Line((-29.98896, 32.950852), (-92.160495, 90.647766))
            ThreePointArc((-92.160495, 90.647766), (-111.950573, 64.634693), (-124.583516, 34.489447))
            Line((-124.583516, 34.489447), (-43.530755, 9.495775))
        make_face()
        with BuildLine():
            Line((13.541795, 42.446627), (32.423021, 125.137213))
            ThreePointArc((32.423021, 125.137213), (0, 129.269387), (-32.423021, 125.137213))
            Line((-32.423021, 125.137213), (-13.541795, 42.446627))
            ThreePointArc((-13.541795, 42.446627), (0, 44.554421), (13.541795, 42.446627))
        make_face()
        with BuildLine():
            ThreePointArc((29.98896, 32.950852), (38.58526, 22.27721), (43.530755, 9.495775))
            Line((43.530755, 9.495775), (124.583516, 34.489447))
            ThreePointArc((124.583516, 34.489447), (111.950573, 64.634693), (92.160495, 90.647766))
            Line((92.160495, 90.647766), (29.98896, 32.950852))
        make_face()
        with BuildLine():
            ThreePointArc((43.530755, -9.495775), (38.58526, -22.27721), (29.98896, -32.950852))
            Line((29.98896, -32.950852), (92.160495, -90.647766))
            ThreePointArc((92.160495, -90.647766), (111.950573, -64.634693), (124.583516, -34.489447))
            Line((124.583516, -34.489447), (43.530755, -9.495775))
        make_face()
        with BuildLine():
            ThreePointArc((13.541795, -42.446627), (0, -44.554421), (-13.541795, -42.446627))
            Line((-13.541795, -42.446627), (-32.423021, -125.137213))
            ThreePointArc((-32.423021, -125.137213), (0, -129.269387), (32.423021, -125.137213))
            Line((32.423021, -125.137213), (13.541795, -42.446627))
        make_face()
        with BuildLine():
            ThreePointArc((-29.98896, -32.950852), (-38.58526, -22.27721), (-43.530755, -9.495775))
            Line((-43.530755, -9.495775), (-124.583516, -34.489447))
            ThreePointArc((-124.583516, -34.489447), (-111.950573, -64.634693), (-92.160495, -90.647766))
            Line((-92.160495, -90.647766), (-29.98896, -32.950852))
        make_face()
    extrude(amount=-F3_DEPTH, mode=Mode.SUBTRACT)


solid = f1.part
